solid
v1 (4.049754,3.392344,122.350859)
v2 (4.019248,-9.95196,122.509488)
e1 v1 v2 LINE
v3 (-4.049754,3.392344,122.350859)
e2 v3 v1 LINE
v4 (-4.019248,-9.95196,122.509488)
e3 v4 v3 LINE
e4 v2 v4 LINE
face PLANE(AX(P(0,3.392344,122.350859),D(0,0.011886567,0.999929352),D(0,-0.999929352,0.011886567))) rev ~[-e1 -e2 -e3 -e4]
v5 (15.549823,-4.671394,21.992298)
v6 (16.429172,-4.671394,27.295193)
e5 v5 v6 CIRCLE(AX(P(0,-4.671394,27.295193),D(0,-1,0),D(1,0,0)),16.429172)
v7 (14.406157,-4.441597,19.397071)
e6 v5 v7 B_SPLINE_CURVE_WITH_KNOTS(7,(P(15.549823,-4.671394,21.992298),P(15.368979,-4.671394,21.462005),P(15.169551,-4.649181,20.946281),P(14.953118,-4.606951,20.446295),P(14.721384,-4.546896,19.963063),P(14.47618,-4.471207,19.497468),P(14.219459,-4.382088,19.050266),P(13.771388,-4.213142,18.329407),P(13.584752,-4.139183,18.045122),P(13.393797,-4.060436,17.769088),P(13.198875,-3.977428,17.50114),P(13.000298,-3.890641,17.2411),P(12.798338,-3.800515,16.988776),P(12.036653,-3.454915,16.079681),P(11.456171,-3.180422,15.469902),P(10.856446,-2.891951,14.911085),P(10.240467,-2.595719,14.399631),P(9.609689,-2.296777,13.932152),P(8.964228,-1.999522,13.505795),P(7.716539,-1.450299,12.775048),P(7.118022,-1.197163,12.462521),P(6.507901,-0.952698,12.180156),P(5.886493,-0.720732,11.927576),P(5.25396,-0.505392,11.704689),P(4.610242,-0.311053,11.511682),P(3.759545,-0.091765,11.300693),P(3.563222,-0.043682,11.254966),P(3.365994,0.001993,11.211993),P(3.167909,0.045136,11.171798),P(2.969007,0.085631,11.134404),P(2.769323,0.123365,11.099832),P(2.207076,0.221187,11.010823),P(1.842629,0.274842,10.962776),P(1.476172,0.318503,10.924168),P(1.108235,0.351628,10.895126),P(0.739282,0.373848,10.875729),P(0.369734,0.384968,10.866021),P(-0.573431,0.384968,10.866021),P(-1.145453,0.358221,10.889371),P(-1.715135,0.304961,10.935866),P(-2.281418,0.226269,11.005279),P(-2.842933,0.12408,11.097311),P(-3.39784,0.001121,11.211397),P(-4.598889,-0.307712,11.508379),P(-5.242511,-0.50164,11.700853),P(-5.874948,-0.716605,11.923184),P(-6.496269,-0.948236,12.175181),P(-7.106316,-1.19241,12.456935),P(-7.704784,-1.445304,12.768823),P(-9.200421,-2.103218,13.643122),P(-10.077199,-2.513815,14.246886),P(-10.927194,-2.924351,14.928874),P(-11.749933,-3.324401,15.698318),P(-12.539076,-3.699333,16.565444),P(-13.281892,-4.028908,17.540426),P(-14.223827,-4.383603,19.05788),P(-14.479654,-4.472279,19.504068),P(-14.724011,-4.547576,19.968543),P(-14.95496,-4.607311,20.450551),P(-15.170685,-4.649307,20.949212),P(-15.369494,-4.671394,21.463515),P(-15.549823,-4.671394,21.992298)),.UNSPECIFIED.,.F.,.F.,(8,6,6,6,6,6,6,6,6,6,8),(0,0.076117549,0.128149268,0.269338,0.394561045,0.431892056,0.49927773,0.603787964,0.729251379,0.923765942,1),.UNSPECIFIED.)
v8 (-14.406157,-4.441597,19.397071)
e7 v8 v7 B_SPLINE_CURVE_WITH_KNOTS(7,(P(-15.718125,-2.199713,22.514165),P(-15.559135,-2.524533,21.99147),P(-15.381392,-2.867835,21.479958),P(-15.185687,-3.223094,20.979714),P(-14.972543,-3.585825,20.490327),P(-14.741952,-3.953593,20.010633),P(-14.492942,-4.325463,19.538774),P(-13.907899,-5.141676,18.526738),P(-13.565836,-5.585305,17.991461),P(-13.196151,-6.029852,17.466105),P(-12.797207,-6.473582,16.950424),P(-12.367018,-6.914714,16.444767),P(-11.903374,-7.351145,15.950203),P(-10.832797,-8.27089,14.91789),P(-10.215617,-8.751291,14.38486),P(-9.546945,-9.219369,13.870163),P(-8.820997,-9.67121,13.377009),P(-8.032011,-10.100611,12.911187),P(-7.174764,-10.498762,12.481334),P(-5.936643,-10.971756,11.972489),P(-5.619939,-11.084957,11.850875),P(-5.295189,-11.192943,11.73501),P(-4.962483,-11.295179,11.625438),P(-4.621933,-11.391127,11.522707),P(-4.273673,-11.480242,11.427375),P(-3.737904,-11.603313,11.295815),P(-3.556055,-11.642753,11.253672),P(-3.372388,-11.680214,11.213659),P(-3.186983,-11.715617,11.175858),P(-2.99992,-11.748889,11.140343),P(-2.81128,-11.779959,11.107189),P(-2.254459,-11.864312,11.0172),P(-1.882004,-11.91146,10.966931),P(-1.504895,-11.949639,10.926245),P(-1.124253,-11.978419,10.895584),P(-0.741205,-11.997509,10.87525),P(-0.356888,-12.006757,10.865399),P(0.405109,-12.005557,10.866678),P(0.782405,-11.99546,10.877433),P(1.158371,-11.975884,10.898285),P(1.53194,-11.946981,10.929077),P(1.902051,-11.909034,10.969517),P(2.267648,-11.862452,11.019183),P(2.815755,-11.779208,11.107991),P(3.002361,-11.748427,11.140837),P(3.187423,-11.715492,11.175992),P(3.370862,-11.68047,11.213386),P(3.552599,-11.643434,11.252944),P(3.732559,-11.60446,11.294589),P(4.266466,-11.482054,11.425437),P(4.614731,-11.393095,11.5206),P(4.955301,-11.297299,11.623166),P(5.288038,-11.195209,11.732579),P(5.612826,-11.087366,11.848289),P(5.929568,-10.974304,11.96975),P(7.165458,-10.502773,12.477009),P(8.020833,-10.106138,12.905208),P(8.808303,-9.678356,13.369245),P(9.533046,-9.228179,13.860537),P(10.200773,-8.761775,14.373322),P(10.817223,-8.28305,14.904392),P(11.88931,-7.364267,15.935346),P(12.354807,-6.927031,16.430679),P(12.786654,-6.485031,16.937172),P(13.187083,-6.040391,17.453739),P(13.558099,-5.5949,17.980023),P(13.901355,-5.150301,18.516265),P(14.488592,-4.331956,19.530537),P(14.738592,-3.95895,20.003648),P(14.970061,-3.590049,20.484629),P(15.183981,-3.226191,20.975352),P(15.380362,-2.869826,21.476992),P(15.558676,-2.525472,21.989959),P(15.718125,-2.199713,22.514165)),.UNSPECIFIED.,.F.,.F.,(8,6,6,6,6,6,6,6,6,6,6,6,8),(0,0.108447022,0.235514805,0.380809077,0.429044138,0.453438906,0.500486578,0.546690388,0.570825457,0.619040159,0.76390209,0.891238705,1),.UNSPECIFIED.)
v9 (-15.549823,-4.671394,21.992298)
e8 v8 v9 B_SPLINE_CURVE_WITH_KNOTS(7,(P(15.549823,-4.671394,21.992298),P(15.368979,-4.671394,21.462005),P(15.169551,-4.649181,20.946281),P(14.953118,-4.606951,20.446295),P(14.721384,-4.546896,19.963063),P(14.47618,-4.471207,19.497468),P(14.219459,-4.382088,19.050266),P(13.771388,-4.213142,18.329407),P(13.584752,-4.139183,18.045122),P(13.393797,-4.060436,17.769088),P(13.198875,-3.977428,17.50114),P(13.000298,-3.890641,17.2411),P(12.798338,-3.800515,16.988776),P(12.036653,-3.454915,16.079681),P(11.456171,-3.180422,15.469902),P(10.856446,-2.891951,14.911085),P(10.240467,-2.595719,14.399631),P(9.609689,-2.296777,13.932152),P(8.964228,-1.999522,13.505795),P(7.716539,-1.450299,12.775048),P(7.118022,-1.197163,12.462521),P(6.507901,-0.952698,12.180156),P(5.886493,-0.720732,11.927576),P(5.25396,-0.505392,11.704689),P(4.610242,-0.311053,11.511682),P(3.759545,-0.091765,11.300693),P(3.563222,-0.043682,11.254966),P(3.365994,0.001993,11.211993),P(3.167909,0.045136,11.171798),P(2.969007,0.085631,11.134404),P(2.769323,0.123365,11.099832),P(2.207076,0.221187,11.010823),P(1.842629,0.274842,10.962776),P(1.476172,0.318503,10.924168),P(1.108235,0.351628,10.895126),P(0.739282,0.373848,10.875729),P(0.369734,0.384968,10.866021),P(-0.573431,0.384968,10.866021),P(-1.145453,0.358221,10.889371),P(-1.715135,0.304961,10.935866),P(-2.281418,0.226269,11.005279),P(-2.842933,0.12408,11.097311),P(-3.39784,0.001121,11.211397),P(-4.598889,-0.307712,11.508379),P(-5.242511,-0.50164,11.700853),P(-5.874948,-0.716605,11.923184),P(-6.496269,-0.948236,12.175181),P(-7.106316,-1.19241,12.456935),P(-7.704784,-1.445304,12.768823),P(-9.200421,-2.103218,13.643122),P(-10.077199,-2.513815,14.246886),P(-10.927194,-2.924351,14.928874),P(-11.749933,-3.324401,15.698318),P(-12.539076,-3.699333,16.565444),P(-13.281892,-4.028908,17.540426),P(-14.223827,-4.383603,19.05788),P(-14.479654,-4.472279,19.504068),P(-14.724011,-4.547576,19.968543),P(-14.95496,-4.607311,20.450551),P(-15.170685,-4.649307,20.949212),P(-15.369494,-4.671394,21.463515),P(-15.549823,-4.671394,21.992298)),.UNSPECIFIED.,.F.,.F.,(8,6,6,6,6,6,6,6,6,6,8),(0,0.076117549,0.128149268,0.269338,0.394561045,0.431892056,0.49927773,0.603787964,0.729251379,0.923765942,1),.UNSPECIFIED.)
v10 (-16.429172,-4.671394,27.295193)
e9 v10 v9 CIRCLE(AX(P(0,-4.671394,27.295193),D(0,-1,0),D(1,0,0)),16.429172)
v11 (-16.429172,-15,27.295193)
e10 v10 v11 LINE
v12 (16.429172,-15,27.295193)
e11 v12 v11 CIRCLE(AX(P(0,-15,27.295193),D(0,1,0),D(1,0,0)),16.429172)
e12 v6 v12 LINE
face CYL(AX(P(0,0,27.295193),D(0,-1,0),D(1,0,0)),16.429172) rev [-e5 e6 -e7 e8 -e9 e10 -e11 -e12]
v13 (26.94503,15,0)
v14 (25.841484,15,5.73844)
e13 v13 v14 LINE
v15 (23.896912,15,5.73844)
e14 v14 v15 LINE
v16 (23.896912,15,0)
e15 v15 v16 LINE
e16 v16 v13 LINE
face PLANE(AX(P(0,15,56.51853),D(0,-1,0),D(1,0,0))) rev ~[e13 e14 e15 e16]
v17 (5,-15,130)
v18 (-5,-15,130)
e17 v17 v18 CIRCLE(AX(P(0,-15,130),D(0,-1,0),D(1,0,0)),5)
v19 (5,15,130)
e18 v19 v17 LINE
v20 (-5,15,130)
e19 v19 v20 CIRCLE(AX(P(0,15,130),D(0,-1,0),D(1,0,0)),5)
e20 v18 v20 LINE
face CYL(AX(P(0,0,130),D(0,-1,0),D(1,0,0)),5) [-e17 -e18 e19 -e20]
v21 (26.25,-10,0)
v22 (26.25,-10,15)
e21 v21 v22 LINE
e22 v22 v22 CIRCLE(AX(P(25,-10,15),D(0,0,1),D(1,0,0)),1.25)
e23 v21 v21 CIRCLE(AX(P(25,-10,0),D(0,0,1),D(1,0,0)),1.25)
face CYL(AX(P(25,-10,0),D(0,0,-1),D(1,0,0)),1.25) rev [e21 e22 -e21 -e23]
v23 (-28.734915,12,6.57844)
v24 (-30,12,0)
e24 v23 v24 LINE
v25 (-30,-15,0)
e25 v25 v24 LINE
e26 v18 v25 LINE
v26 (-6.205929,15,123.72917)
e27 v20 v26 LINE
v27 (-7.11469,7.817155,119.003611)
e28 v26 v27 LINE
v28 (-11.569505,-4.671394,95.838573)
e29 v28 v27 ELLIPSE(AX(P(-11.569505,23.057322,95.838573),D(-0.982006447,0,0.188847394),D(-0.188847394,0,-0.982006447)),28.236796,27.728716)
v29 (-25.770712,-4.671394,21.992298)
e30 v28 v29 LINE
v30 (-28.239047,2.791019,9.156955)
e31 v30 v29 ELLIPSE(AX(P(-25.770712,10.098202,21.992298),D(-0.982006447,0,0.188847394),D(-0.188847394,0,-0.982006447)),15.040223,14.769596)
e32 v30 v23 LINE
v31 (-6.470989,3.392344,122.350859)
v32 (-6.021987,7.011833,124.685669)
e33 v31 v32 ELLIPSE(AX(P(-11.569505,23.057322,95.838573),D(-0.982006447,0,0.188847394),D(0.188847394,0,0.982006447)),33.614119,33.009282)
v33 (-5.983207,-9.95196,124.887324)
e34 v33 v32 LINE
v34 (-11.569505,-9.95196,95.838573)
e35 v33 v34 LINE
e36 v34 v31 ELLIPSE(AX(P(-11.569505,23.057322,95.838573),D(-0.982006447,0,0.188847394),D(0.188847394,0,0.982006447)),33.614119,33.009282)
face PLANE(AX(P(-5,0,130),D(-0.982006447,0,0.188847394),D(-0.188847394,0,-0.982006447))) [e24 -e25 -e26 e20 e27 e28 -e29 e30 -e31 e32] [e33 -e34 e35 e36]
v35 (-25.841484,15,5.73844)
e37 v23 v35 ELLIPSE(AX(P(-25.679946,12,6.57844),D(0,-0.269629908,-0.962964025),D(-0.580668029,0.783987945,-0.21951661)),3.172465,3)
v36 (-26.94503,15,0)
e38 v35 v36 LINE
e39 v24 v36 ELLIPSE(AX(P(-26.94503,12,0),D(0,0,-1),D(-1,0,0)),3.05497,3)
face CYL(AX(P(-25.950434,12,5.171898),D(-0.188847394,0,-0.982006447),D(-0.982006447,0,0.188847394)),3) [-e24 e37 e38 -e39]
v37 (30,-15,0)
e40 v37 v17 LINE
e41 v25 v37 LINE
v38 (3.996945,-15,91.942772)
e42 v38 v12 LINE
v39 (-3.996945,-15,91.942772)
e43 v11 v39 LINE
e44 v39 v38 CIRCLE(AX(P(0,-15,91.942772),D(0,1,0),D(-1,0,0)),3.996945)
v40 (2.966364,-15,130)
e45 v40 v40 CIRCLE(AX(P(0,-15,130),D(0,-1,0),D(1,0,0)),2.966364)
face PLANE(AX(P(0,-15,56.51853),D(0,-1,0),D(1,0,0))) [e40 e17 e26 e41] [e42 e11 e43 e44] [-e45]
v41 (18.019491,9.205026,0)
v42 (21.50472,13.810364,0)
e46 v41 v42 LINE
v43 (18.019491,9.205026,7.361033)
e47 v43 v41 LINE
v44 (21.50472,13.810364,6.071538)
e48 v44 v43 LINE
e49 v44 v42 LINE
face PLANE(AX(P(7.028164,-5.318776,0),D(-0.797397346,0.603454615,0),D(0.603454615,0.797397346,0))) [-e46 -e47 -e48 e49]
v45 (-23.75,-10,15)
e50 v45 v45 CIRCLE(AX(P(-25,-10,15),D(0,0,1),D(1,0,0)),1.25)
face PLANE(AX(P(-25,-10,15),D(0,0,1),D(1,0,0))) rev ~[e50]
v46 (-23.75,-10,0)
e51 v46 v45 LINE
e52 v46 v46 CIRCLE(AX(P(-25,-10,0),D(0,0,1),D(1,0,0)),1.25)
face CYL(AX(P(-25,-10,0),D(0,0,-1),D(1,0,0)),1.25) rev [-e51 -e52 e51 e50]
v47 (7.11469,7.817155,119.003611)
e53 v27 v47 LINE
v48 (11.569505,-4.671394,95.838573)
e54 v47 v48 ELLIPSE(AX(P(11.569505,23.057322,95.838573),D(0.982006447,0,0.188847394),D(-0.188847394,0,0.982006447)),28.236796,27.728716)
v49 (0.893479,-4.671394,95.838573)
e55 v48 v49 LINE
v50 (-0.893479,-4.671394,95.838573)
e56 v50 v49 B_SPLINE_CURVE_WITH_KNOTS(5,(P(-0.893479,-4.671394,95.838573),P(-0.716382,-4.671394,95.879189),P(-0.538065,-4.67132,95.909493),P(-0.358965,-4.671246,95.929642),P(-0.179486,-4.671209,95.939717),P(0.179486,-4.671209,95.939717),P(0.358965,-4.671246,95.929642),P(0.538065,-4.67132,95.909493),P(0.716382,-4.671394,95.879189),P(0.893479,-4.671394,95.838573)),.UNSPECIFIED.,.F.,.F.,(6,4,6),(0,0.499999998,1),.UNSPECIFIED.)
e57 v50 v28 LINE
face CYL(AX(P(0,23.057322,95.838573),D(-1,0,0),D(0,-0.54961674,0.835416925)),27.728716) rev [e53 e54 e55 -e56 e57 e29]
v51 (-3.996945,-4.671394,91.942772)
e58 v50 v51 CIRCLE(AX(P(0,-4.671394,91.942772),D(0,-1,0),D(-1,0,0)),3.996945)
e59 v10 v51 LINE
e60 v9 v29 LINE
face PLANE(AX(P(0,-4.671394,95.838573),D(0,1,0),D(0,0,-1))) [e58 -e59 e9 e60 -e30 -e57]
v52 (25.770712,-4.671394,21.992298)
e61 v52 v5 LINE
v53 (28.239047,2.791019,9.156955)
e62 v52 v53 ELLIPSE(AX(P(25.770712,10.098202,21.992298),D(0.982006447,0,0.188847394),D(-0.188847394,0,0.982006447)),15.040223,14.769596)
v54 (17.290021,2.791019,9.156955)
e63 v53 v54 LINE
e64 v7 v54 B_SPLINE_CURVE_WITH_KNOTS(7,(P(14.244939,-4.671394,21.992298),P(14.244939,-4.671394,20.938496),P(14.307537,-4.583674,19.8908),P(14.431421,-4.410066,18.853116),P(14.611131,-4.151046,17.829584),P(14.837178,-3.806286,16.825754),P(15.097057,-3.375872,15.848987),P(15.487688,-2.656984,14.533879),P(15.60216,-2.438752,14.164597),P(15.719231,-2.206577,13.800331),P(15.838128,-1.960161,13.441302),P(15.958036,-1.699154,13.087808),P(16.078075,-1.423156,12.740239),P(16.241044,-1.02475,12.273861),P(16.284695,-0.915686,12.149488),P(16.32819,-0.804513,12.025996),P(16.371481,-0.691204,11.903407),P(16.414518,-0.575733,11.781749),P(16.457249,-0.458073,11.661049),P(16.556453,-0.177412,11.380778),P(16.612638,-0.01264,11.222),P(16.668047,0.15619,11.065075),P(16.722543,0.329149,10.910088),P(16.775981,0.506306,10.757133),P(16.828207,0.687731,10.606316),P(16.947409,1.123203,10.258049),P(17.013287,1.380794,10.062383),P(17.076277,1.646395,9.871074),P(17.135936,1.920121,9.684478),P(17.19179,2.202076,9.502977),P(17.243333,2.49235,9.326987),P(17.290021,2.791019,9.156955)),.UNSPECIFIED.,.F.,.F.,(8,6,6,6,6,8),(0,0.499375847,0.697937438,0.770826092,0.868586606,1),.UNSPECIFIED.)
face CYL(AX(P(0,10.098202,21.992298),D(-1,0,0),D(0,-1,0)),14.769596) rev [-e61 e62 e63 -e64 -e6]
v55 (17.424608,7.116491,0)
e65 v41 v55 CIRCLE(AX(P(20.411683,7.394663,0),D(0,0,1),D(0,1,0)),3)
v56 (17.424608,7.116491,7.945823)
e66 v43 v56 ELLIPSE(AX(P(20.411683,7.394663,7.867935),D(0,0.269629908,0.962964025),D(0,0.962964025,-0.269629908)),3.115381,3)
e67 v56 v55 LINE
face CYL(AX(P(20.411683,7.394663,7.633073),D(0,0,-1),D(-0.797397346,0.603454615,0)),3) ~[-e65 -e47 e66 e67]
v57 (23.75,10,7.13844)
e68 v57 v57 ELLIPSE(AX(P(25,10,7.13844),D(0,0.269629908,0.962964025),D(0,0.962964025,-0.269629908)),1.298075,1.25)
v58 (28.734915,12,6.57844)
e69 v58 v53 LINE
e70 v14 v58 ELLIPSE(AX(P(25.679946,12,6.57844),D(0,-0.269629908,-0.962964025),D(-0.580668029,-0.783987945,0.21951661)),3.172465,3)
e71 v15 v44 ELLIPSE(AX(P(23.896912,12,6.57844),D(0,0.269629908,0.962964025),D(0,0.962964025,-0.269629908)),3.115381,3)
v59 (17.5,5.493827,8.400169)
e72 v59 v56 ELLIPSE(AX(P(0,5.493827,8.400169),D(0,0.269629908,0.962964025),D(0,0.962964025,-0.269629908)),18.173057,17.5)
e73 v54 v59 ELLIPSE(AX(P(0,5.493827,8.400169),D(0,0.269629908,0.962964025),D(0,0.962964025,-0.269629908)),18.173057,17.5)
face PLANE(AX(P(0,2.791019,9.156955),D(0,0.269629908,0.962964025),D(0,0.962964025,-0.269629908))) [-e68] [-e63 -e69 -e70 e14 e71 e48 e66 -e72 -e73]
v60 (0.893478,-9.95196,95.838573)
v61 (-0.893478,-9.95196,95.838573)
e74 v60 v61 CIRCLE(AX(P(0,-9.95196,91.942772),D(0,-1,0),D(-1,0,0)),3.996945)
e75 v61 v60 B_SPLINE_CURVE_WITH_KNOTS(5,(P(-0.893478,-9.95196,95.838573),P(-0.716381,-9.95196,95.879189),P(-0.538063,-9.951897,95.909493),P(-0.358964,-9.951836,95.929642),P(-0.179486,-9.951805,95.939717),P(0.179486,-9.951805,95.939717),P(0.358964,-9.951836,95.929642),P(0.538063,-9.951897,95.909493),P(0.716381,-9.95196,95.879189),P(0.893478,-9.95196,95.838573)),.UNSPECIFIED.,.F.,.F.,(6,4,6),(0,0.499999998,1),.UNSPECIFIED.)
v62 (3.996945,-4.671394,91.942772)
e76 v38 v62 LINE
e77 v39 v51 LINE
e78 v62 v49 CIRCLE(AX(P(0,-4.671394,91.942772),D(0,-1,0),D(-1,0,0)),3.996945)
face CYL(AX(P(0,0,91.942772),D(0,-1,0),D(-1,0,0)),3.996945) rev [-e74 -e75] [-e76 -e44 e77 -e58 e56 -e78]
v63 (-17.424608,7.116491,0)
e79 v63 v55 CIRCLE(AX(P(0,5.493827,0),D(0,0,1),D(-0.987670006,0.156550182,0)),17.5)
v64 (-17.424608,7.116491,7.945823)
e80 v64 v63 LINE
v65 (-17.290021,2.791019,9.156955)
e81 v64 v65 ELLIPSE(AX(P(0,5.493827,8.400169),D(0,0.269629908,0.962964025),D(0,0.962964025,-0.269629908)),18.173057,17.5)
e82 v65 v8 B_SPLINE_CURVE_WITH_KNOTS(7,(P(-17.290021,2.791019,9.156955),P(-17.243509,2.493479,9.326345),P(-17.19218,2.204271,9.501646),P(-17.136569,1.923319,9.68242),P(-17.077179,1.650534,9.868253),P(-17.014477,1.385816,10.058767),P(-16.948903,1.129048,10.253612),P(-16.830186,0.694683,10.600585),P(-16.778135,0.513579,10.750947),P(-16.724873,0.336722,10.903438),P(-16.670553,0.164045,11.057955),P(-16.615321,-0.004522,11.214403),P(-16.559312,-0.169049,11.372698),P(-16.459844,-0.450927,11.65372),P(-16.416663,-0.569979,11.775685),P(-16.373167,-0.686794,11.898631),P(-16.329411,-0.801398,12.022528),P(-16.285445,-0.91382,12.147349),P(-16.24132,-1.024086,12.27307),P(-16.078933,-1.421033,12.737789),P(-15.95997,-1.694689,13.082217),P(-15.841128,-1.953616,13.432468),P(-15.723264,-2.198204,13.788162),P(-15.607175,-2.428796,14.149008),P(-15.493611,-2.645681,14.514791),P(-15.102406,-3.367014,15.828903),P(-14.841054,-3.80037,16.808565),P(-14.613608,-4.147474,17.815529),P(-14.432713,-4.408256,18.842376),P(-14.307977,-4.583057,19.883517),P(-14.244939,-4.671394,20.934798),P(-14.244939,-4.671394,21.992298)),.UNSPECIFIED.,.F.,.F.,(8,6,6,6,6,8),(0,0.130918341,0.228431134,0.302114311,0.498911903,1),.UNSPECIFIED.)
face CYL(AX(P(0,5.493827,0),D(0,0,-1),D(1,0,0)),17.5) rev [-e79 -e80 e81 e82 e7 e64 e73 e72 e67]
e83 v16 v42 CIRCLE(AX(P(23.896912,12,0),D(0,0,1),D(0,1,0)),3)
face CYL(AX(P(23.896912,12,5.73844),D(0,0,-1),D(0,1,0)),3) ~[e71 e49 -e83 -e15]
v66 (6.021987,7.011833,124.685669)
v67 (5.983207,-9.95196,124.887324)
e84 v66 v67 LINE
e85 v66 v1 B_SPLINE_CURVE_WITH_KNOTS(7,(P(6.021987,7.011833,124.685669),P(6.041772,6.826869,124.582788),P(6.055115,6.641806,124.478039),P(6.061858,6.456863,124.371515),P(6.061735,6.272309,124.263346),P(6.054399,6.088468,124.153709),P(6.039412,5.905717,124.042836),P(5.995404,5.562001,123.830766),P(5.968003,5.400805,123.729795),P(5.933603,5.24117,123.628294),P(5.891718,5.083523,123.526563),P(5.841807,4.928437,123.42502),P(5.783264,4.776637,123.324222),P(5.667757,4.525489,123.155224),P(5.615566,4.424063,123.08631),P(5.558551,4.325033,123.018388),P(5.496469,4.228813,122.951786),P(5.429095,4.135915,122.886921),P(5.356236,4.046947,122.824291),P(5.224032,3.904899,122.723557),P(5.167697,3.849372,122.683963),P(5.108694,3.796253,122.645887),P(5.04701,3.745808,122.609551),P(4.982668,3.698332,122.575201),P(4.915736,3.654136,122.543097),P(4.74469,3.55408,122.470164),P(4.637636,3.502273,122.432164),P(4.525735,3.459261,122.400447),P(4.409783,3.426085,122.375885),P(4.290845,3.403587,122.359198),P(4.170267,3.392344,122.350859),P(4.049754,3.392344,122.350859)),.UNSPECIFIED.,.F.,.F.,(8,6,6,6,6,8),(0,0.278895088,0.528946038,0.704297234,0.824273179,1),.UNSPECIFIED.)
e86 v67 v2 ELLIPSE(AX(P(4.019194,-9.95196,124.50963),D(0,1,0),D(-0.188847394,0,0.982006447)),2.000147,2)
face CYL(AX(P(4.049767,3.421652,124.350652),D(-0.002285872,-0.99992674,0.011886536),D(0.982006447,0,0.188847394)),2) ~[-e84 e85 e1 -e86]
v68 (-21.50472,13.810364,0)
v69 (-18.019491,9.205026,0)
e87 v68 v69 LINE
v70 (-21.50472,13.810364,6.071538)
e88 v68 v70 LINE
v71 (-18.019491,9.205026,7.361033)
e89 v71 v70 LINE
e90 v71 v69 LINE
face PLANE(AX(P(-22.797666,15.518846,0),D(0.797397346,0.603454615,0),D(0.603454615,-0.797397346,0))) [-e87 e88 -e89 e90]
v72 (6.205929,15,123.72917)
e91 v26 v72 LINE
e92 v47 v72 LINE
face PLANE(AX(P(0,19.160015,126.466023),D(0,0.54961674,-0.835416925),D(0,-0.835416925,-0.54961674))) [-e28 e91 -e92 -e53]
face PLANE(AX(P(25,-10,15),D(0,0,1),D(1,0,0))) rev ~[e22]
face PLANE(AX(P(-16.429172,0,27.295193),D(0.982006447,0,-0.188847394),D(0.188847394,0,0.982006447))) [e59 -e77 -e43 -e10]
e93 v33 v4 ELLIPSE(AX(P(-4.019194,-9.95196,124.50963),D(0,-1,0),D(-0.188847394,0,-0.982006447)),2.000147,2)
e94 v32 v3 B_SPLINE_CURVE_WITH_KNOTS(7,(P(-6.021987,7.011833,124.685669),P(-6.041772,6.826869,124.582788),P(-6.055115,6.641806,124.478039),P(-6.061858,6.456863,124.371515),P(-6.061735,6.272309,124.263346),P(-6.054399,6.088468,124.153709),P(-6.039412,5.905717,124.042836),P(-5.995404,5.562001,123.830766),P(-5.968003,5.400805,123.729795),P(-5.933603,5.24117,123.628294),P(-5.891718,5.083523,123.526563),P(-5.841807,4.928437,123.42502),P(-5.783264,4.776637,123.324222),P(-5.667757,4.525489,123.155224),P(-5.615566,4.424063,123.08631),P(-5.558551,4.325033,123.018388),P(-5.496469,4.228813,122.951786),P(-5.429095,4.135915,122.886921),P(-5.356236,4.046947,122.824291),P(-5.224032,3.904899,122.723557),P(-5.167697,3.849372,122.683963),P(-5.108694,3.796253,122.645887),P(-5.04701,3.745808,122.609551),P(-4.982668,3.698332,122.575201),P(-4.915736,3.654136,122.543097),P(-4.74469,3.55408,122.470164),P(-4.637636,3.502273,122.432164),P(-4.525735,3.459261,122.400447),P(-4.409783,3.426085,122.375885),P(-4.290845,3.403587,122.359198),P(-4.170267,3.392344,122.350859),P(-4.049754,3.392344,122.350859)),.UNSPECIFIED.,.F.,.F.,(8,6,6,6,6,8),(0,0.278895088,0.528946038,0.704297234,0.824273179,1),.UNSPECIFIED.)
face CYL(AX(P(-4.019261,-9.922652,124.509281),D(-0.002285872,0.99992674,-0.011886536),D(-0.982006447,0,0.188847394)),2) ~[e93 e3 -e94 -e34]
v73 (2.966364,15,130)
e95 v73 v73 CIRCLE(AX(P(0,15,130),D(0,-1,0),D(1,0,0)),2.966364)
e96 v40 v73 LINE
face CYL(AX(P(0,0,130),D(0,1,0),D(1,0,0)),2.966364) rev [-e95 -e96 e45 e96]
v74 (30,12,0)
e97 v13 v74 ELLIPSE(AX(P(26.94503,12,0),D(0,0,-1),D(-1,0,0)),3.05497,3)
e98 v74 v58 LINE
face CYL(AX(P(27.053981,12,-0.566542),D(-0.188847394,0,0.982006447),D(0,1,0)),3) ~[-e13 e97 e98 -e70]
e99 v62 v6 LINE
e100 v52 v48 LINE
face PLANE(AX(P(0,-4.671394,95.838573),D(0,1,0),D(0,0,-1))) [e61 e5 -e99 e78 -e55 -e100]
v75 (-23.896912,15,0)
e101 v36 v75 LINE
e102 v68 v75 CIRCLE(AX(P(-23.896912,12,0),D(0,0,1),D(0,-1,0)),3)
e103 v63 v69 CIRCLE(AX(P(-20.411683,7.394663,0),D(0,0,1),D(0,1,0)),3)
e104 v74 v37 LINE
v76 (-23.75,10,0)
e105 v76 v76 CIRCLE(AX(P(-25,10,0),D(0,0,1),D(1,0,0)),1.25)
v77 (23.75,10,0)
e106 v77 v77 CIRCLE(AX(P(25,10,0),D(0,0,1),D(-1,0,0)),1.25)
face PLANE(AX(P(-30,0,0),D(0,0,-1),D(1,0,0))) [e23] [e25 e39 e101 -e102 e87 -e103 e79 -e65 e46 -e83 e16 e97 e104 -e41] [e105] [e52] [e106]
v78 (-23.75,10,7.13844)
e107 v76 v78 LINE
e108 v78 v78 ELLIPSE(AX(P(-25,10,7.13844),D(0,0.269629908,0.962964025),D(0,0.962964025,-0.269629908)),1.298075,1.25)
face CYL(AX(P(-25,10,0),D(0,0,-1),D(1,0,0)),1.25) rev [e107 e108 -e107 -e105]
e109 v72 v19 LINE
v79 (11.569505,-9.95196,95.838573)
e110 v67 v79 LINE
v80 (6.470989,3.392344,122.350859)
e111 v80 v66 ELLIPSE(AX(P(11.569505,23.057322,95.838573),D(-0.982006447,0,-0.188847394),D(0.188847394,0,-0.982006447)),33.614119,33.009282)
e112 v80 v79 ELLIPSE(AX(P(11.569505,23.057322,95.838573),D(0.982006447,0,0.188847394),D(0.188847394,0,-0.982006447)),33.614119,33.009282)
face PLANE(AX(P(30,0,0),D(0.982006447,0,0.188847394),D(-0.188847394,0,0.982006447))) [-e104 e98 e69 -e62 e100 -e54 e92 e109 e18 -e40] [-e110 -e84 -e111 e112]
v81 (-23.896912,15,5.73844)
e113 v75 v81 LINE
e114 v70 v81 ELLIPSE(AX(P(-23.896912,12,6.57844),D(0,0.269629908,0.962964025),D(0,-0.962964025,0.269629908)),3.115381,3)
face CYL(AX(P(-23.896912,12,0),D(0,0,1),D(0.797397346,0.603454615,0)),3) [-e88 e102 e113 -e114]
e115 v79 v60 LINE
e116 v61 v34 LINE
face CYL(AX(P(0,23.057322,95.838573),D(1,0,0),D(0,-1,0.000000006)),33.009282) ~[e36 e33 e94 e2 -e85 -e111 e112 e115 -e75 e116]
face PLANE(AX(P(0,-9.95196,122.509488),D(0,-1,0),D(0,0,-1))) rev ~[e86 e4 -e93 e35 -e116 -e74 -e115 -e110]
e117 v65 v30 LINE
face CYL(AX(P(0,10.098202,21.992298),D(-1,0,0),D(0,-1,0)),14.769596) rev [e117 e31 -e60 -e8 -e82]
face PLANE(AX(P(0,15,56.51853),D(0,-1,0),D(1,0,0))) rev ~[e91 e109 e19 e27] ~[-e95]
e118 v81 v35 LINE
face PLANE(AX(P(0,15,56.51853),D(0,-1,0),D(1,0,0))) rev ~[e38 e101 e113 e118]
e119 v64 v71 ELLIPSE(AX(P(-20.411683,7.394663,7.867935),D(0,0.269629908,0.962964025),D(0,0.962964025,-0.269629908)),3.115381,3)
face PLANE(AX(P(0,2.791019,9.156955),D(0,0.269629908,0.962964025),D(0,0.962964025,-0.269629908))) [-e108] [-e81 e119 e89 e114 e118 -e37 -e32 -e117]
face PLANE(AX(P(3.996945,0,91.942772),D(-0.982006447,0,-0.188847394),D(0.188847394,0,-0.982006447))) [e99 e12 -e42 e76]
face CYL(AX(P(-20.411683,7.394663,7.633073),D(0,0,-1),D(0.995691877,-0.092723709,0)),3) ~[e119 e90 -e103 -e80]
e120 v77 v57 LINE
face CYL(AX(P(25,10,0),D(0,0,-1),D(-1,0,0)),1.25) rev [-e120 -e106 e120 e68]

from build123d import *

# Parameters (mm, degrees)
F0_R      = 2.966363647
F1_DEPTH  = 15
F2_R      = 1.25
F3_DEPTH  = 15
F5_DEPTH  = 30
F7_DEPTH  = 25
F8_R      = 3
F9_R      = 3
F10_R     = 17.5
F11_DEPTH = 30
F12_R     = 3
F13_R     = 2


with BuildPart() as f1:
    # F0 (on Front) → F1 (new body, symmetric)
    with BuildSketch(Plane.XZ):
        with BuildLine():
            Line((-30, 0), (0, 0))
            Line((0, 0), (30, 0))
            Line((30, 0), (5, 130))
            ThreePointArc((5, 130), (0, 135), (-5, 130))
            Line((-5, 130), (-30, 0))
        make_face()
        with BuildLine():
            ThreePointArc((16.4291715262, 27.2951927036), (0, 10.8660211774), (-16.4291715262, 27.2951927036))
            Line((-16.4291715262, 27.2951927036), (-3.9969446867, 91.9427722692))
            ThreePointArc((-3.9969446867, 91.9427722692), (0, 95.9397169559), (3.9969446867, 91.9427722692))
            Line((3.9969446867, 91.9427722692), (16.4291715262, 27.2951927036))
        make_face(mode=Mode.SUBTRACT)
        with Locations((0, 130)):
            Circle(F0_R, mode=Mode.SUBTRACT)
    extrude(amount=F1_DEPTH, both=True)

    # F2 (on Top) → F3 (cut)
    with BuildSketch(Plane.XY):
        with Locations((-25, -10)):
            Circle(F2_R)
        with BuildLine():
            ThreePointArc((26.25, 10), (25, 11.25), (23.75, 10))
            ThreePointArc((23.75, 10), (25, 8.75), (26.25, 10))
        make_face()
        with Locations((-25, 10)):
            Circle(F2_R)
        with Locations((25, -10)):
            Circle(F2_R)
    extrude(amount=F3_DEPTH, mode=Mode.SUBTRACT)

    # F4 (on Right) → F5 (cut, symmetric)
    with BuildSketch(Plane.YZ):
        with BuildLine():
            Line((2.7910187355, 9.1569548885), (17.7158373854, 4.9780059552))
            Line((17.7158373854, 4.9780059552), (19.1600148357, 126.4660232181))
            Line((19.1600148357, 126.4660232181), (7.8171554744, 119.0036110992))
            ThreePointArc((7.8171554744, 119.0036110992), (-1.3503809801, 108.9970573428), (-4.6713938491, 95.8385727701))
            Line((-4.6713938491, 95.8385727701), (-4.6713938491, 21.9922982569))
            ThreePointArc((-4.6713938491, 21.9922982569), (-2.6702181322, 14.5687943509), (2.7910187355, 9.1569548885))
        make_face()
        with BuildLine():
            ThreePointArc((-9.9519597852, 95.8385729755), (-6.4277544412, 110.6791573106), (3.3923443925, 122.3508592262))
            Line((3.3923443925, 122.3508592262), (-9.9519597852, 122.5094883949))
            Line((-9.9519597852, 122.5094883949), (-9.9519597852, 95.8385729755))
        make_face()
    extrude(amount=F5_DEPTH, both=True, mode=Mode.SUBTRACT)

    # F6 (on Top) → F7 (cut)
    with BuildSketch(Plane.XY):
        with BuildLine():
            ThreePointArc((7.0281636992, -5.3187759427), (8.3555325008, -2.8052698872), (8.8138789708, 0))
            ThreePointArc((8.8138789708, 0), (-2.8052698872, 8.3555325008), (-7.0281636992, -5.3187759427))
            ThreePointArc((-7.0281636992, -5.3187759427), (0, -8.8138789708), (7.0281636992, -5.3187759427))
        make_face()
        with BuildLine():
            ThreePointArc((-7.0281636992, -5.3187759427), (-2.8052698872, 8.3555325008), (8.8138789708, 0))
            ThreePointArc((8.8138789708, 0), (8.3555325008, -2.8052698872), (7.0281636992, -5.3187759427))
            Line((7.0281636992, -5.3187759427), (22.7976655115, 15.5188456048))
            Line((22.7976655115, 15.5188456048), (0, 15.5188456048))
            Line((0, 15.5188456048), (-22.7976655115, 15.5188456048))
            Line((-22.7976655115, 15.5188456048), (-7.0281636992, -5.3187759427))
        make_face()
    extrude(amount=F7_DEPTH, mode=Mode.SUBTRACT)

    # F8
    f8_edges = [f1.edges().sort_by_distance(p)[0] for p in [
        (22.405013, 15, 2.86922),
    ]]
    fillet(f8_edges, radius=F8_R)

    # F9
    f9_edges = [f1.edges().sort_by_distance(p)[0] for p in [
        (-22.405013, 15, 2.86922),
        (-29.448227, 15, 2.86922),
        (29.448227, 15, 2.86922),
    ]]
    fillet(f9_edges, radius=F9_R)

    # F10 (on Top) → F11 (cut)
    with BuildSketch(Plane.XY):
        with Locations((0, 5.4938265468)):
            Circle(F10_R)
    extrude(amount=F11_DEPTH, mode=Mode.SUBTRACT)

    # F12
    f12_edges = [f1.edges().sort_by_distance(p)[0] for p in [
        (-17.284225, 8.233455, 3.816536),
        (17.284225, 8.233455, 3.816536),
    ]]
    fillet(f12_edges, radius=F12_R)

    # F13
    f13_edges = [f1.edges().sort_by_distance(p)[0] for p in [
        (-6.455736, -3.279808, 122.430174),
        (6.455736, -3.279808, 122.430174),
    ]]
    fillet(f13_edges, radius=F13_R)


solid = f1.part
